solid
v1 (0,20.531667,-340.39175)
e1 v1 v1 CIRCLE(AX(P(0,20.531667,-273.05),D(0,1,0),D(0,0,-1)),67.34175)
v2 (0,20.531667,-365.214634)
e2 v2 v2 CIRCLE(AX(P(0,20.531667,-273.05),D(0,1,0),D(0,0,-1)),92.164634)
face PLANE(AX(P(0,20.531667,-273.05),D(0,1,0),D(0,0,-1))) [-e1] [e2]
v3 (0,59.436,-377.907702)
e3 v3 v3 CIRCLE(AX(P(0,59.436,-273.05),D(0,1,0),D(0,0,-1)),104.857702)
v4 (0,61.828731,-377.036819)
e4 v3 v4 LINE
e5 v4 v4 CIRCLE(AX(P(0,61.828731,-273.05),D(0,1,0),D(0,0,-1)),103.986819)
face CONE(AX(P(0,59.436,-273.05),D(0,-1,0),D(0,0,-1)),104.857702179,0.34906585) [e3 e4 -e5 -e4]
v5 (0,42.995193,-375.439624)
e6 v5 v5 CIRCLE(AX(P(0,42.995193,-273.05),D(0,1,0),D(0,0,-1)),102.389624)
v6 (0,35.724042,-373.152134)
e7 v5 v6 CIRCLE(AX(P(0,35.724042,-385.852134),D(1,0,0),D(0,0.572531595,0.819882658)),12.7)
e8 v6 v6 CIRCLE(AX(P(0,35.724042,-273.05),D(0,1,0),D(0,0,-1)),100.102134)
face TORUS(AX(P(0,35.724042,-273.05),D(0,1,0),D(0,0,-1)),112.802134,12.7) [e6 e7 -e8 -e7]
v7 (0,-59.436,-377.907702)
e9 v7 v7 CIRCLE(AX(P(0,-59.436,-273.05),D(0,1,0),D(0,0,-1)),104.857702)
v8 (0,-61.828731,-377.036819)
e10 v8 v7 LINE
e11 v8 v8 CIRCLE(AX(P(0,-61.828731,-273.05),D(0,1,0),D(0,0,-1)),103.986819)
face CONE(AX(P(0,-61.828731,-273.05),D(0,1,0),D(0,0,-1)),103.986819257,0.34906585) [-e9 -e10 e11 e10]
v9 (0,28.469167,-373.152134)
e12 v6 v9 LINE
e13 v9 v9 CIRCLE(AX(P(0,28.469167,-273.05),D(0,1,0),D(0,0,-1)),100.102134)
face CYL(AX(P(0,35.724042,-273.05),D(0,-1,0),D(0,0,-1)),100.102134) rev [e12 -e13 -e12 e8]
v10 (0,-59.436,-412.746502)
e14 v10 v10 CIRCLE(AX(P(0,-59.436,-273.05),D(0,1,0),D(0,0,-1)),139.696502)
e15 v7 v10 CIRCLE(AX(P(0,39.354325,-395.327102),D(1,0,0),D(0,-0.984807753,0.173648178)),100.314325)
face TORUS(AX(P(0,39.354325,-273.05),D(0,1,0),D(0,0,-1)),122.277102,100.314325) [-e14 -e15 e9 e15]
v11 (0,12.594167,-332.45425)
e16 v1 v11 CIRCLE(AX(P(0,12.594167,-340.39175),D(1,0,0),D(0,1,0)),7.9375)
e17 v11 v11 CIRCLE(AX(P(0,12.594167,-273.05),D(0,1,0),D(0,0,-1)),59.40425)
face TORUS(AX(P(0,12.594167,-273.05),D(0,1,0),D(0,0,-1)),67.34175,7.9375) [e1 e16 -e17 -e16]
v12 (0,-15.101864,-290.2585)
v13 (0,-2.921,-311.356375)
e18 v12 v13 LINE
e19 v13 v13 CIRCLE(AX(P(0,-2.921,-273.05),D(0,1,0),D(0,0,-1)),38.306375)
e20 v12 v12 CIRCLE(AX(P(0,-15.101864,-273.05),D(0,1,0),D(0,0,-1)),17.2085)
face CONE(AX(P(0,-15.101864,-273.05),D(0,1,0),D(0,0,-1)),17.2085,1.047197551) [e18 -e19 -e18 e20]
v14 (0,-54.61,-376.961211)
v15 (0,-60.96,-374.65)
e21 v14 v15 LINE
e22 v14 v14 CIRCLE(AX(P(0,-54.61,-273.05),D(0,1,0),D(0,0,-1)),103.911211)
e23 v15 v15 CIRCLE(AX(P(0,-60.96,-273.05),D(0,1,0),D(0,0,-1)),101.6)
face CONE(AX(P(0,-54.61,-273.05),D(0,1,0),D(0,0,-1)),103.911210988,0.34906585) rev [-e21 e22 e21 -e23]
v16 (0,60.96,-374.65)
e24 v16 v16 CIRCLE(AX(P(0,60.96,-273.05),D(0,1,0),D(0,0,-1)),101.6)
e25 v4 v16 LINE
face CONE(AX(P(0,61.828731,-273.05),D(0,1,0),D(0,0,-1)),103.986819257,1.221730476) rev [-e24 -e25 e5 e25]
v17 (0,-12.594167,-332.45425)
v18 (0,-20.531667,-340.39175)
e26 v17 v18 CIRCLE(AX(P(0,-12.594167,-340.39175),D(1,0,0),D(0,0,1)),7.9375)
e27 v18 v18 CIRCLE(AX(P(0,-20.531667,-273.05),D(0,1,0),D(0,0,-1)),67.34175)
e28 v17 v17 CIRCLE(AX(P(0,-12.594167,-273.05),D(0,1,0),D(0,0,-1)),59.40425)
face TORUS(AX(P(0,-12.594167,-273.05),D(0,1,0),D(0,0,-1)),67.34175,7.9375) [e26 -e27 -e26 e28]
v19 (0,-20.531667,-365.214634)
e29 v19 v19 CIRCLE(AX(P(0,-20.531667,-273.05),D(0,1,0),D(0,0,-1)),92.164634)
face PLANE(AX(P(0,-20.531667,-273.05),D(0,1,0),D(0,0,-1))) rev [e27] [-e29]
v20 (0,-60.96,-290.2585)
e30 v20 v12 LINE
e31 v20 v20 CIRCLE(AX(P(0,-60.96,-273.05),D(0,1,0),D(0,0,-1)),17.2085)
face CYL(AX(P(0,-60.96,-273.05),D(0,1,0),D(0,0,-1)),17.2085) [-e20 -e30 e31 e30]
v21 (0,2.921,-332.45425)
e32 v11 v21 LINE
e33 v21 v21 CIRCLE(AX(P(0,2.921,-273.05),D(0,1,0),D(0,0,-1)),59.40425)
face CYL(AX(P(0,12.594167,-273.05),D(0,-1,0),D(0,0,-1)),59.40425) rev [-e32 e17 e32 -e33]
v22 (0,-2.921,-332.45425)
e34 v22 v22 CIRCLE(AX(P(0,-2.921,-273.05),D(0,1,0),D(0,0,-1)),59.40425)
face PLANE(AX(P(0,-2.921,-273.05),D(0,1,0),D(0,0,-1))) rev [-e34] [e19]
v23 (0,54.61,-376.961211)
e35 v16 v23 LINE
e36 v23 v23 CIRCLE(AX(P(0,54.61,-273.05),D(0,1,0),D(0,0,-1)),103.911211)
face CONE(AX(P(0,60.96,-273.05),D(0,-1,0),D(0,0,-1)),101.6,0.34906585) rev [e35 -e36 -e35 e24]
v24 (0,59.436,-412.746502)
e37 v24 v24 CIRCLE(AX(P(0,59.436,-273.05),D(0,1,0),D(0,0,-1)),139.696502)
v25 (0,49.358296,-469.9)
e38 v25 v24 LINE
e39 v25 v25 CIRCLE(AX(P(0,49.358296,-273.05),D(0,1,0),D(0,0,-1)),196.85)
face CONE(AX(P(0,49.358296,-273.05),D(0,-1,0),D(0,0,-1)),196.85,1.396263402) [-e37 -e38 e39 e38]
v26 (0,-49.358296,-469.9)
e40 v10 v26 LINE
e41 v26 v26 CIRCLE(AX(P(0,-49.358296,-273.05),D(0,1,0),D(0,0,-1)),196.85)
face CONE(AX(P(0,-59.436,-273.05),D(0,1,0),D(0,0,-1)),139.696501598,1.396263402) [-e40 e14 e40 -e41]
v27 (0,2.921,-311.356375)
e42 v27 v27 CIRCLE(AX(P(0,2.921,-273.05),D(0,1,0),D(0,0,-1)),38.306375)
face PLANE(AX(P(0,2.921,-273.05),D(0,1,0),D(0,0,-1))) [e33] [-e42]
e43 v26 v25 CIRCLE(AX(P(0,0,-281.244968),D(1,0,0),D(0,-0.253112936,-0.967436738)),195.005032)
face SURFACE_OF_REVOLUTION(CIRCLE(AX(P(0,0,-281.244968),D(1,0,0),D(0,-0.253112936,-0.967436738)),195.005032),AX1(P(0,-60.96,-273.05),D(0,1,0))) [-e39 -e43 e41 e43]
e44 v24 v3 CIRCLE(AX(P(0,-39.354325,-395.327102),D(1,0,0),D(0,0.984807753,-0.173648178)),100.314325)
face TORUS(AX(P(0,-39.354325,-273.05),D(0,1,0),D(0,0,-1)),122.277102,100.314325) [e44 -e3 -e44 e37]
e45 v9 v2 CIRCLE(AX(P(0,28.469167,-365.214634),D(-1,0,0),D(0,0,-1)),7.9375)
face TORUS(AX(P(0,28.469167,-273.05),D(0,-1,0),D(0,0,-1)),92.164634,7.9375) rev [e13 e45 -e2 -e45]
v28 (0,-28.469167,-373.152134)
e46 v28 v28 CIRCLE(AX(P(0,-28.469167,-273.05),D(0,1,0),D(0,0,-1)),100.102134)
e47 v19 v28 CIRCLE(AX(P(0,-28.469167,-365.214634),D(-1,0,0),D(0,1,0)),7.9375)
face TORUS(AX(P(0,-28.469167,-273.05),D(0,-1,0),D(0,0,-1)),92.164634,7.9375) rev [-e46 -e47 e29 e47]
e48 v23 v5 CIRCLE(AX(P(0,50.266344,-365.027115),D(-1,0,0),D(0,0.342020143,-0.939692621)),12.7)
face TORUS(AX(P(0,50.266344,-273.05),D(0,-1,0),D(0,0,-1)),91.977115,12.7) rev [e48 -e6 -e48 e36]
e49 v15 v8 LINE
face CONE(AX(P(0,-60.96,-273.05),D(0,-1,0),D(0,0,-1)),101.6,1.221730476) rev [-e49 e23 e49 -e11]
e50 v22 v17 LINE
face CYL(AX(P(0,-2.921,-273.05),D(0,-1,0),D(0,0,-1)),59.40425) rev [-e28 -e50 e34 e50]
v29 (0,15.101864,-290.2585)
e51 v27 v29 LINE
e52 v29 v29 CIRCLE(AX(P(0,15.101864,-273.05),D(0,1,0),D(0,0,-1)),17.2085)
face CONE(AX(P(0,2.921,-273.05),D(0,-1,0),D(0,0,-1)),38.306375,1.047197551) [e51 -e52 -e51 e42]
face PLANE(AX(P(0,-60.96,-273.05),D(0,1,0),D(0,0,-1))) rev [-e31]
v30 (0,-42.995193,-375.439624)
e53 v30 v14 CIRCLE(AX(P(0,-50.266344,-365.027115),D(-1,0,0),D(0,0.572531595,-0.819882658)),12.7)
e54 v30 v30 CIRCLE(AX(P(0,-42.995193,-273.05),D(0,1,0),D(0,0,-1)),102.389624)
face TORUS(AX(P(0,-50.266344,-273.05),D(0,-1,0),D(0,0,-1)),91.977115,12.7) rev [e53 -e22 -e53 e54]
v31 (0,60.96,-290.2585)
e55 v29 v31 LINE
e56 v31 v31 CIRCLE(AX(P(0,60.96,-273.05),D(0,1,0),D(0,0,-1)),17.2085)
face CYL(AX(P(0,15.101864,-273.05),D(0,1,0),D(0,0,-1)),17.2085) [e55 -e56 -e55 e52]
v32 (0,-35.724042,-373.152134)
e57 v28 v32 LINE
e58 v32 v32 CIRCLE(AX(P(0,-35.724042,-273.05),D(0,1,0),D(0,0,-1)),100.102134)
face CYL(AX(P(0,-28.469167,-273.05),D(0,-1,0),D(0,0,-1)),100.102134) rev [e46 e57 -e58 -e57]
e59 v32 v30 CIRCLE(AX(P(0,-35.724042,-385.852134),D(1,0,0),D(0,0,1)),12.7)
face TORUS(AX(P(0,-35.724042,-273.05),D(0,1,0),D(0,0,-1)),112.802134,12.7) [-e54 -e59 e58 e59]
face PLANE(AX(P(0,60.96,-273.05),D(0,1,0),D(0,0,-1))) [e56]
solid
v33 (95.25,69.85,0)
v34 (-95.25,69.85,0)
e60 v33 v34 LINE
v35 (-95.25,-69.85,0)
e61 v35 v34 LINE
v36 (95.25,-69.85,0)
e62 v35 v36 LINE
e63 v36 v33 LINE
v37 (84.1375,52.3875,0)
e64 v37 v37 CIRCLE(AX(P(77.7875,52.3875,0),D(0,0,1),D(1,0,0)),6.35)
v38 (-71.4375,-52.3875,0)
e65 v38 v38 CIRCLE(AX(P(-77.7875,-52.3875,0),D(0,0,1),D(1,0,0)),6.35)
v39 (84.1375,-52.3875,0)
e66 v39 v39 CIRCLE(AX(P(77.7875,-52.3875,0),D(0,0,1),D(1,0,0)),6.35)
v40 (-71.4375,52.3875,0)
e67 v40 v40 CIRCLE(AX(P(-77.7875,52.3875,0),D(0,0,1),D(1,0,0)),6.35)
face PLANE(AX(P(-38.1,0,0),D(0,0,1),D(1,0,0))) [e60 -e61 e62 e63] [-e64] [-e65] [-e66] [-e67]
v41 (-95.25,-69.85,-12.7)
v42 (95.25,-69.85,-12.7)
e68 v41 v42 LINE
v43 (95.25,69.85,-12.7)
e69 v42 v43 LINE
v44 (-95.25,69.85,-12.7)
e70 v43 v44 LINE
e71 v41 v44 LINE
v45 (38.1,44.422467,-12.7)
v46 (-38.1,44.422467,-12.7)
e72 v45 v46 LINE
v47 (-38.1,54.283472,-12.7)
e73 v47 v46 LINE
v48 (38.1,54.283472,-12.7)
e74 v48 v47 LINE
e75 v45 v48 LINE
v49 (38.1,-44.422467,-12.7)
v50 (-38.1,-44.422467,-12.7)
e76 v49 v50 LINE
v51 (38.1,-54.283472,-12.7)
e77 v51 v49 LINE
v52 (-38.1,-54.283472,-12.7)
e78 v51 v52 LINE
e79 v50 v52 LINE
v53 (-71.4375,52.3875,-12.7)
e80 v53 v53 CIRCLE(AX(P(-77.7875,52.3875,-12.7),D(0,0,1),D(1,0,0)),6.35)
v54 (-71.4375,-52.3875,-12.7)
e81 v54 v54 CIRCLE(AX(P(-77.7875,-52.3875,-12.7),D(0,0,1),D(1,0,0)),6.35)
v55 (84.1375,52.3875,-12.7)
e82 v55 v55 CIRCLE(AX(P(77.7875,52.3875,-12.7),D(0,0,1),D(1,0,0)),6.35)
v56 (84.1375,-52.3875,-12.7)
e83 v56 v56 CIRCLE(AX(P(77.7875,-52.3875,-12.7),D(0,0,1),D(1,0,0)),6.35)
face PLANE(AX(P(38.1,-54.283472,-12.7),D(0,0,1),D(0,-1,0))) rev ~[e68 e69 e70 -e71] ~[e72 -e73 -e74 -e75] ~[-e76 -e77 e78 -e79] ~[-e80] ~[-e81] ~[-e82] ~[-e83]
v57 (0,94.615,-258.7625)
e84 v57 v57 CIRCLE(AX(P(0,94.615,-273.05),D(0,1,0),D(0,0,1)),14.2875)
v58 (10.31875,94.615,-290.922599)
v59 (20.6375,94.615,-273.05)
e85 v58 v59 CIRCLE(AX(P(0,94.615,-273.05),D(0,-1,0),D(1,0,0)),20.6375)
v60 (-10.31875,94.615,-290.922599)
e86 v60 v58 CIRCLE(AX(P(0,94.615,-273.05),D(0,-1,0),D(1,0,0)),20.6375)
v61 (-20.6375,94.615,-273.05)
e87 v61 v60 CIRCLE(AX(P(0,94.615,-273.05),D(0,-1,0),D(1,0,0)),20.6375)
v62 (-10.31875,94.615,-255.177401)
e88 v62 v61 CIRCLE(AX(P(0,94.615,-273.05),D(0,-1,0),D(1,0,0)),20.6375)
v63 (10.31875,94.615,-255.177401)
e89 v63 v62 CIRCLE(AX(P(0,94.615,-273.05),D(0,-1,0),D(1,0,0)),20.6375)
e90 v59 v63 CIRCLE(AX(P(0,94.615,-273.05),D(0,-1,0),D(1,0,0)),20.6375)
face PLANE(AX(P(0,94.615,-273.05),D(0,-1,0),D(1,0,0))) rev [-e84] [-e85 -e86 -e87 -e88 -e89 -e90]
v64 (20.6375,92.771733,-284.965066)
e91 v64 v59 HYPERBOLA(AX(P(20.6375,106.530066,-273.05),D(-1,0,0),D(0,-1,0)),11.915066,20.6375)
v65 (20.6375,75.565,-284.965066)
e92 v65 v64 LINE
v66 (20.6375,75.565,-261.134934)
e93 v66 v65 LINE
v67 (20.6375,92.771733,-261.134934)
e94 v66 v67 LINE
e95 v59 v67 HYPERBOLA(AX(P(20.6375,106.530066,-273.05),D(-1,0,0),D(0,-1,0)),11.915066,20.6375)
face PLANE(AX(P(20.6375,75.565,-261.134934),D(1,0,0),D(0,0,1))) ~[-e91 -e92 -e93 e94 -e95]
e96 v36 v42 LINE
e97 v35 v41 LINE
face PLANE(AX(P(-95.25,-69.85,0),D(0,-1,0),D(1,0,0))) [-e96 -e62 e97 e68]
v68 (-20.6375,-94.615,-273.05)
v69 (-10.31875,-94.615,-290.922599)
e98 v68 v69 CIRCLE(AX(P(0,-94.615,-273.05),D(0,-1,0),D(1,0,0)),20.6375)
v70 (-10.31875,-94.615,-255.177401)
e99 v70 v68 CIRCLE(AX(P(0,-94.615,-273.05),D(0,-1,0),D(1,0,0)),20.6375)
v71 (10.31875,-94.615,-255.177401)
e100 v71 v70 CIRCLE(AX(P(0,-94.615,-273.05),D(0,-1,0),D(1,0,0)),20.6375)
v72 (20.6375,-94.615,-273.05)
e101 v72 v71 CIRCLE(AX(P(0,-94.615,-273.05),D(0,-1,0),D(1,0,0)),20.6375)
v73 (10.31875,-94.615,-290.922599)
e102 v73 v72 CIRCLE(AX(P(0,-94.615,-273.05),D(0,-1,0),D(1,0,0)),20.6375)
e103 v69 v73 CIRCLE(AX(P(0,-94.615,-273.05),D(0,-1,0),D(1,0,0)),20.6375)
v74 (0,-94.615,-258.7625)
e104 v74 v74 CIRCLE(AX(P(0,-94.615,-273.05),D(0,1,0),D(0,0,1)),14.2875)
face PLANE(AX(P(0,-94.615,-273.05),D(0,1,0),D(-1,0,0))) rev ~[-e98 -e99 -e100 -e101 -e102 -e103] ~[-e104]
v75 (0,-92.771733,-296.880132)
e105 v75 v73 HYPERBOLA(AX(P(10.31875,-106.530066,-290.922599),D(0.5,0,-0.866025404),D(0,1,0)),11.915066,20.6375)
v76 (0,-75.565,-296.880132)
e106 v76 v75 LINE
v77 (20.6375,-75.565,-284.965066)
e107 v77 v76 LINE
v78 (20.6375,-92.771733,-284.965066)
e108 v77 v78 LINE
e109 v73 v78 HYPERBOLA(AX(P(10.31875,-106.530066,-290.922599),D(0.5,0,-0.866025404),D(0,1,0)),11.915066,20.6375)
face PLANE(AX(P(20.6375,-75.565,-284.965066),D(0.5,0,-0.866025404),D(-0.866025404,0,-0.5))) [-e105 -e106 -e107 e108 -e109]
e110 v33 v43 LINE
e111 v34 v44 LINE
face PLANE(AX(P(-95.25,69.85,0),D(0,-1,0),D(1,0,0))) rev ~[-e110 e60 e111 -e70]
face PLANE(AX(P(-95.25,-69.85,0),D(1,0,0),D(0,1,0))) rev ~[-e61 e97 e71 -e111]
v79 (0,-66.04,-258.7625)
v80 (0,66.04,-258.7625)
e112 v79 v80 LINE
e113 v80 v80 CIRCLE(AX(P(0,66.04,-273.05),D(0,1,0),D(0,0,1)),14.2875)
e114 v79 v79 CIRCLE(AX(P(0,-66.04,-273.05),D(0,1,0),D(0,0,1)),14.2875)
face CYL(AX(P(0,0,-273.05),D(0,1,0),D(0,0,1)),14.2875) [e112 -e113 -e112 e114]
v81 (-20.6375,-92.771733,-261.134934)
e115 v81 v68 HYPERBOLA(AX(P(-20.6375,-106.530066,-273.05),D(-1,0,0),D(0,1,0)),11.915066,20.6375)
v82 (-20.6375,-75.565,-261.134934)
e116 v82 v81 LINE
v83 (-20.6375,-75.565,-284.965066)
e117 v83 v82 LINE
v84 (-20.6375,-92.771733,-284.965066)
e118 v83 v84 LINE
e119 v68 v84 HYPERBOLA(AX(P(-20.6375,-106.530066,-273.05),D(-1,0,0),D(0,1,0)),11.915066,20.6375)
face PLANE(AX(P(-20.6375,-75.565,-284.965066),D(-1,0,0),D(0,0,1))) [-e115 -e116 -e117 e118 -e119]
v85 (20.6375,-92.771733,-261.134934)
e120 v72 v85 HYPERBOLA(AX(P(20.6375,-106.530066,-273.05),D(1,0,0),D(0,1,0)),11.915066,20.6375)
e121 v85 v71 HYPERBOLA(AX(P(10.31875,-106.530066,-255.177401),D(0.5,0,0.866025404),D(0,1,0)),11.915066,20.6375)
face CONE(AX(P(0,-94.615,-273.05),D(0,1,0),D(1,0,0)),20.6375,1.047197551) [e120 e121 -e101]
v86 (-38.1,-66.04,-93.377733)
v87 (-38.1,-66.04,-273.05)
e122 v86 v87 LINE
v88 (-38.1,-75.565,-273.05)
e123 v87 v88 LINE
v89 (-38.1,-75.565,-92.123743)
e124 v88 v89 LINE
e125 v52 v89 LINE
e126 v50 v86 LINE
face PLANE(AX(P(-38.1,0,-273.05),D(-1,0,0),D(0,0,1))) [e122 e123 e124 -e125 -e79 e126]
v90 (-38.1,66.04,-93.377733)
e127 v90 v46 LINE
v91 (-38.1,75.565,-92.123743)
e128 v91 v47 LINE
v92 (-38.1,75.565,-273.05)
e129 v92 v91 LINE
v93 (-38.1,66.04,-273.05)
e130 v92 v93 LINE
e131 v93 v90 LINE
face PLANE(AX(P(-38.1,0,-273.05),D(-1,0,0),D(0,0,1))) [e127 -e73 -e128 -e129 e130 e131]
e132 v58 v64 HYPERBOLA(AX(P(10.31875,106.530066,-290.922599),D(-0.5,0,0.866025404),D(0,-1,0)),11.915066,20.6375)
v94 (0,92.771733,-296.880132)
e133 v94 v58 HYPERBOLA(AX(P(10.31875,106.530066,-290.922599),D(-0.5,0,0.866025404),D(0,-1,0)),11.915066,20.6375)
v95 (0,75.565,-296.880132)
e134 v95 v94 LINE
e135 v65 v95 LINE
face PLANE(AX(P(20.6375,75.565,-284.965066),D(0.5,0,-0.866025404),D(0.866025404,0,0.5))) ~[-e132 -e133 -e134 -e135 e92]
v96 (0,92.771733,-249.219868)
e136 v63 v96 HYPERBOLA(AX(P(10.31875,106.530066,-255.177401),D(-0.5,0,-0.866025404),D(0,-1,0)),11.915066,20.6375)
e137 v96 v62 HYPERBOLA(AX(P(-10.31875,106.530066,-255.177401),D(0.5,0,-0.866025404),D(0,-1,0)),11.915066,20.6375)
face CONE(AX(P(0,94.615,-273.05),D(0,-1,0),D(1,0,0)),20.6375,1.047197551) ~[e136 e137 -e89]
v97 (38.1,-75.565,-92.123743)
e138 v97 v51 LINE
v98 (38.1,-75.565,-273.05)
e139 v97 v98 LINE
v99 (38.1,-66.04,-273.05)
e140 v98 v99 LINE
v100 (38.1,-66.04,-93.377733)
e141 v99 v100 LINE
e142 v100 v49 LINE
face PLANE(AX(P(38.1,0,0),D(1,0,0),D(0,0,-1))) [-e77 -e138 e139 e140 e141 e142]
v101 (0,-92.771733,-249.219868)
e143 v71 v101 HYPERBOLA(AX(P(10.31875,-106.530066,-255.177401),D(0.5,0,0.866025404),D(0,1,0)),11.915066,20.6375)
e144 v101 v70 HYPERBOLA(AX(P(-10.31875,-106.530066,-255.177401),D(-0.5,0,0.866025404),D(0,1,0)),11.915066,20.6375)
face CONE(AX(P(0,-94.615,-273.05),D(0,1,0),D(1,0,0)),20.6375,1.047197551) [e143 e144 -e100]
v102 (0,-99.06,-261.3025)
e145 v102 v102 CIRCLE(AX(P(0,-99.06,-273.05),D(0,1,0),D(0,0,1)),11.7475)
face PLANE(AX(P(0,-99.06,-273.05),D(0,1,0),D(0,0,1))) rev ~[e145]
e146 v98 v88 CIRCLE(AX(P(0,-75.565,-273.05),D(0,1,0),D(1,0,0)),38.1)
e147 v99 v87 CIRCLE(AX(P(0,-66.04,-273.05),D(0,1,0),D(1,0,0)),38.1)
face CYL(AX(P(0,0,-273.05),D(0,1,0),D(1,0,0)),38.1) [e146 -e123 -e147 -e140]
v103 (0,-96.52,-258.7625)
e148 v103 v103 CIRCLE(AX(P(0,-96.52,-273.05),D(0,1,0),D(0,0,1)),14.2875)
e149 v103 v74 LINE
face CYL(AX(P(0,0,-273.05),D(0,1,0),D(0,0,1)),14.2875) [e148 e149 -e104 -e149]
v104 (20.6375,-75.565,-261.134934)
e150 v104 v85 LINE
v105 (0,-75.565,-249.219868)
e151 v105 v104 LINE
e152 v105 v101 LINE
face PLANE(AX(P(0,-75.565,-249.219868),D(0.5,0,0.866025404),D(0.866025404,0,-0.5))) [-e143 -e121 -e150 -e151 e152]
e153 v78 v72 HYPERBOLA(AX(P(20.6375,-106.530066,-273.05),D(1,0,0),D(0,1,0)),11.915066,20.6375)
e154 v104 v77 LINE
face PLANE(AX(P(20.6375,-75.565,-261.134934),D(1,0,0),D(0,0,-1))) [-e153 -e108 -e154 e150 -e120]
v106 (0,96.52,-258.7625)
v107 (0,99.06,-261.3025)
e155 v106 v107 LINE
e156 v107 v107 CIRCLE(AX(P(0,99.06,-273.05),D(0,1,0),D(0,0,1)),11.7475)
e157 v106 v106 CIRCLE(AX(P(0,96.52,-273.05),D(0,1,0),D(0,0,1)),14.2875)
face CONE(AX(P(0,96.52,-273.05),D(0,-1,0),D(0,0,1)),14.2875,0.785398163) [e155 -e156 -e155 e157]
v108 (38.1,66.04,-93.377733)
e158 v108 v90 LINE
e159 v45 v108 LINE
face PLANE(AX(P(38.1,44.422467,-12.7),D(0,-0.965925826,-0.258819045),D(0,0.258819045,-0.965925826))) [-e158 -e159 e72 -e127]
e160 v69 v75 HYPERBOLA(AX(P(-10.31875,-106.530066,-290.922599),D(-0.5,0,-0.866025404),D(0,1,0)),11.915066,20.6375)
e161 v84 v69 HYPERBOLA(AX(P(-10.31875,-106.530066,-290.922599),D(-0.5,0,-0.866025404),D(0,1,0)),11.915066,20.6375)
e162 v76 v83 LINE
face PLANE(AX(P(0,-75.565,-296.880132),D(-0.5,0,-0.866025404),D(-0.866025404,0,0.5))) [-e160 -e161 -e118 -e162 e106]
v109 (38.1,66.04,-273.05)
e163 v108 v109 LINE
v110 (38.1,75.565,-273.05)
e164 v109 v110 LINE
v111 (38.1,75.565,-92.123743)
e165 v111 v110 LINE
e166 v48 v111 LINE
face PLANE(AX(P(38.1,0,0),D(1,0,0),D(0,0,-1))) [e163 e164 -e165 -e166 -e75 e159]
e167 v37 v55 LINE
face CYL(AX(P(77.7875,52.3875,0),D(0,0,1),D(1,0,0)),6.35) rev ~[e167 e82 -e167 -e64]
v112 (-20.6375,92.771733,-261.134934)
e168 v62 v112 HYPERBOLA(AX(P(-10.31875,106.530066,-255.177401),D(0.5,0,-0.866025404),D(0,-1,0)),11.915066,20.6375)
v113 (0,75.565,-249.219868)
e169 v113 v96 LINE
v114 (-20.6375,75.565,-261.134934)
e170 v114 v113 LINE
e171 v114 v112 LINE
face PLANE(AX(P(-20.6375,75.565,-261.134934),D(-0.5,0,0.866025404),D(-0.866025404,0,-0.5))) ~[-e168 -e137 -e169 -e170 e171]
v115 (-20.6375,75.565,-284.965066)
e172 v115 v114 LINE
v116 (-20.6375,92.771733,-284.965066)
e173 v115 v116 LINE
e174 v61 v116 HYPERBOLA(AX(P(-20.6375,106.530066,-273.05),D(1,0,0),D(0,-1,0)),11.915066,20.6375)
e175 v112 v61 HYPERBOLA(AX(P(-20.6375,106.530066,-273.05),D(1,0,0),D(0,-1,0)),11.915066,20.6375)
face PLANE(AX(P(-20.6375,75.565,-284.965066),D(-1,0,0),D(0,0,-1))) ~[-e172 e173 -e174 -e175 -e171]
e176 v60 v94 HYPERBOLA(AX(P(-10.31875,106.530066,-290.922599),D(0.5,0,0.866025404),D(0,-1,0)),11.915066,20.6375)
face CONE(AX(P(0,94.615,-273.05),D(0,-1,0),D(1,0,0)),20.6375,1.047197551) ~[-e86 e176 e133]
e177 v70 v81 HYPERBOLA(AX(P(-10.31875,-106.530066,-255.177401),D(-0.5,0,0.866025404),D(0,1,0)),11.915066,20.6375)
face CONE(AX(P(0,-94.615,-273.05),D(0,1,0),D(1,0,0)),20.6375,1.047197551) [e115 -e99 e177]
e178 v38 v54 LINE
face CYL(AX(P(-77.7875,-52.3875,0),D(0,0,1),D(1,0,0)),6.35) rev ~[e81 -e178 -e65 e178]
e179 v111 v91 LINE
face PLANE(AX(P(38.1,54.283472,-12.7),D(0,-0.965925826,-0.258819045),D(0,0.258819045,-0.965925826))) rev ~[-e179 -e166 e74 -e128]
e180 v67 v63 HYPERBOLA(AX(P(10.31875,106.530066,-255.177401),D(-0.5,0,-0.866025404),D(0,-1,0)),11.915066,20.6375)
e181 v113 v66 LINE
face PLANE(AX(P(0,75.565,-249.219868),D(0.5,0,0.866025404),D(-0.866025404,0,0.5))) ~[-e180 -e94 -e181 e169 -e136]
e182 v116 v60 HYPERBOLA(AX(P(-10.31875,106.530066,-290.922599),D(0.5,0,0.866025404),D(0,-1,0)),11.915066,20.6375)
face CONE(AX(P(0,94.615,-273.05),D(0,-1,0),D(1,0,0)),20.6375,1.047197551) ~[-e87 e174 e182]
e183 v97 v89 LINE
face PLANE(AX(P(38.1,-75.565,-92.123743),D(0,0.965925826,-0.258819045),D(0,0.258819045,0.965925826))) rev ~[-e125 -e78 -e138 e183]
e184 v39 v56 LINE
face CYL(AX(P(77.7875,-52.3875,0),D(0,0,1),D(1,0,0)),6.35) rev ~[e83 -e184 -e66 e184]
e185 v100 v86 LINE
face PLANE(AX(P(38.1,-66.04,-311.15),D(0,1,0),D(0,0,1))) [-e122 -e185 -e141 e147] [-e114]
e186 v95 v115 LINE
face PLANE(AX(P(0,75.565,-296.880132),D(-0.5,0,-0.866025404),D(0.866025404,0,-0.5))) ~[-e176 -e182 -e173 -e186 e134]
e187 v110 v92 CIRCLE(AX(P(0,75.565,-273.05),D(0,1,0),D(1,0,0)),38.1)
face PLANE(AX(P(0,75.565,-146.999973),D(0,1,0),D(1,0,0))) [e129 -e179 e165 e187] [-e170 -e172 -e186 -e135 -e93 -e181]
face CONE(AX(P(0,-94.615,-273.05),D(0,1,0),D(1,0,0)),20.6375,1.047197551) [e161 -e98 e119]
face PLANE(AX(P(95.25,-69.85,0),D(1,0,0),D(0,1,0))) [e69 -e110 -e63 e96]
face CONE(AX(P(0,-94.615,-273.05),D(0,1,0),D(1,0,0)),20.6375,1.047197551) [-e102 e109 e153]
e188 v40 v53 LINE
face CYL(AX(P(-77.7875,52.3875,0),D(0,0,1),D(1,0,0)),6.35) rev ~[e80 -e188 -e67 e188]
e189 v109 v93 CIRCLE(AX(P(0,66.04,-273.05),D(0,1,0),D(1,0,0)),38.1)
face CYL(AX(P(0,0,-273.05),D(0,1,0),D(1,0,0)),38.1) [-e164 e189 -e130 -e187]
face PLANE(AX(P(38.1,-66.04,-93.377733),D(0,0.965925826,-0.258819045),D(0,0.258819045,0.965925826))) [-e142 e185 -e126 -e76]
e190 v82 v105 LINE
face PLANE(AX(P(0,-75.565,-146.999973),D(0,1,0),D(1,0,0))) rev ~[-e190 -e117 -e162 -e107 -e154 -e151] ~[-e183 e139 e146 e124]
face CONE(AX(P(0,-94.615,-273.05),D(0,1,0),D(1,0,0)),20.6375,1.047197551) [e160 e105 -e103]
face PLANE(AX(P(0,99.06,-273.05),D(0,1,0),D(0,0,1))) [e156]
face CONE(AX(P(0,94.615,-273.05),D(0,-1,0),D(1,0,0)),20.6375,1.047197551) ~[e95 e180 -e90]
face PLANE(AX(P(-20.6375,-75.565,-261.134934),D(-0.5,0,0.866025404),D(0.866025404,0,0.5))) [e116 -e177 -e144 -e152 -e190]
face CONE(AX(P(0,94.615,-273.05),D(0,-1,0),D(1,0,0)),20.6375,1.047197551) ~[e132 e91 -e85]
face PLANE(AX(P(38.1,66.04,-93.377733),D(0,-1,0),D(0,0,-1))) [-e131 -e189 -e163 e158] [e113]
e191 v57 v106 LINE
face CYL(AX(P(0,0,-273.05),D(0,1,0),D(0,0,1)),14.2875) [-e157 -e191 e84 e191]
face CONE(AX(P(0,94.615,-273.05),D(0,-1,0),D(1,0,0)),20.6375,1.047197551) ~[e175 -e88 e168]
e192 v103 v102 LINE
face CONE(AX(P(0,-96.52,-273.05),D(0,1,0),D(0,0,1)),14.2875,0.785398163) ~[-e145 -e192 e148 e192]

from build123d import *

# Parameters (mm, degrees)
SKETCH2_W           = 190.5
SKETCH2_H           = 139.7
SKETCH2_R           = 6.35
PLATE_2_DEPTH       = 12.7
BOSS_EXTRUDE3_DEPTH = 75.565
CUT_EXTRUDE1_DEPTH  = 107.95
SKETCH12_W          = 190.5
SKETCH12_H          = 12.7
CUT_EXTRUDE4_DEPTH  = 357.416059157
SKETCH13_W          = 190.5
SKETCH13_H          = 12.7
CUT_EXTRUDE5_DEPTH  = 357.416059157
SKETCH6_R           = 14.2875
BOSS_EXTRUDE5_DEPTH = 99.06
CHAMFER2_SIZE       = 2.54
BOSS_EXTRUDE7_DEPTH = 19.05
SKETCH11_OUTSIDE_W  = 1590.774
SKETCH11_OUTSIDE_H  = 1711.424
SKETCH11_OUTSIDE_R  = 20.6375
CUT_EXTRUDE3_DEPTH  = 379.67781903
CUT_EXTRUDE3_DRAFT  = -60


with BuildPart() as part:
    # Sketch2 → Plate 2 (new body)
    with BuildSketch(Plane.XY):
        Rectangle(SKETCH2_W, SKETCH2_H)
        with Locations((-77.7875, 52.3875)):
            Circle(SKETCH2_R, mode=Mode.SUBTRACT)
        with Locations((-77.7875, -52.3875)):
            Circle(SKETCH2_R, mode=Mode.SUBTRACT)
        with Locations((77.7875, -52.3875)):
            Circle(SKETCH2_R, mode=Mode.SUBTRACT)
        with Locations((77.7875, 52.3875)):
            Circle(SKETCH2_R, mode=Mode.SUBTRACT)
    extrude(amount=-PLATE_2_DEPTH)

    # Sketch3 → Boss-Extrude3 (add, symmetric)
    with BuildSketch(Plane(origin=(0, 0, 0), x_dir=(1, 0, 0), z_dir=(0, 1, 0))):
        with BuildLine():
            Line((-38.1, 0), (38.1, 0))
            Line((38.1, 0), (38.1, 273.05))
            ThreePointArc((38.1, 273.05), (0, 311.15), (-38.1, 273.05))
            Line((-38.1, 273.05), (-38.1, 0))
        make_face()
    extrude(amount=BOSS_EXTRUDE3_DEPTH, both=True)

    # Sketch4 → Cut-Extrude1 (cut)
    with BuildSketch(Plane(origin=(38.1, 0, 0), x_dir=(0, 0, -1), z_dir=(1, 0, 0))):
        Polygon((93.377733092, 66.04), (311.15, 66.04), (311.15, -66.04), (93.377733092, -66.04), (12.7, -44.422466571), (12.7, 44.422466571), align=None)
        Polygon((12.7, 54.283472189), (92.123743052, 75.565), (12.7, 75.565), align=None)
        Polygon((12.7, -75.565), (92.123743052, -75.565), (12.7, -54.283472189), align=None)
    extrude(amount=-CUT_EXTRUDE1_DEPTH, mode=Mode.SUBTRACT)

    # Sketch12 → Cut-Extrude4 (cut, through all)
    with BuildSketch(Plane(origin=(0, 69.85, 0), x_dir=(1, 0, 0), z_dir=(0, 1, 0))):
        with Locations((0, 6.35)):
            Rectangle(SKETCH12_W, SKETCH12_H)
    extrude(amount=CUT_EXTRUDE4_DEPTH, mode=Mode.SUBTRACT)

    # Sketch13 → Cut-Extrude5 (cut, through all)
    with BuildSketch(Plane.XZ.offset(69.85)):
        with Locations((0, -6.35)):
            Rectangle(SKETCH13_W, SKETCH13_H)
    extrude(amount=CUT_EXTRUDE5_DEPTH, mode=Mode.SUBTRACT)

    # Sketch6 → Boss-Extrude5 (add, symmetric)
    with BuildSketch(Plane(origin=(0, 0, 0), x_dir=(1, 0, 0), z_dir=(0, 1, 0))):
        with Locations(Location((0, 273.05, 0), (0, 0, 270))):
            Circle(SKETCH6_R)
    extrude(amount=BOSS_EXTRUDE5_DEPTH, both=True)

    # Chamfer2
    chamfer2_edges = [part.edges().sort_by_distance(p)[0] for p in [
        (0, -99.06, -287.3375),
        (0, 99.06, -287.3375),
    ]]
    chamfer(chamfer2_edges, length=CHAMFER2_SIZE)


with BuildPart() as body_2:
    # Sketch9 → Boss-Extrude7 (new body)
    with BuildSketch(Plane(origin=(0, -75.565, 0), x_dir=(-1, 0, 0), z_dir=(0, 1, 0))):
        Polygon((0, -249.219867639), (-20.6375, -261.13493382), (-20.6375, -284.96506618), (0, -296.880132361), (20.6375, -284.96506618), (20.6375, -261.13493382), align=None)
    extrude(amount=-BOSS_EXTRUDE7_DEPTH)


with BuildPart() as cut_extrude3_tool:
    # Sketch11 outside → Cut-Extrude3 (with draft: the straight prism first)
    with BuildSketch(Plane.XZ.offset(94.615)):
        with Locations((0, -155.575)):
            Rectangle(SKETCH11_OUTSIDE_W, SKETCH11_OUTSIDE_H)
        with Locations((0, -273.05)):
            Circle(SKETCH11_OUTSIDE_R, mode=Mode.SUBTRACT)
    extrude(amount=-CUT_EXTRUDE3_DEPTH)
    # Cut-Extrude3: the draft: its side faces are tilted about the plane it starts from
    cut_extrude3_sides = [cut_extrude3_tool.faces().sort_by_distance(p)[0] for p in [
        (0, 95.223909515, -1011.287),
        (795.387, 95.223909515, -155.575),
        (0, 95.223909515, 700.137),
        (-795.387, 95.223909515, -155.575),
        (-20.6375, 95.223909515, -273.05),
    ]]
    draft(cut_extrude3_sides, Plane.XZ.offset(94.615), CUT_EXTRUDE3_DRAFT)


with BuildPart() as body_2_1:
    add(body_2.part)

    # Cut-Extrude3: cut by cut_extrude3_tool
    add(cut_extrude3_tool.part, mode=Mode.SUBTRACT)


with BuildPart() as body_3:
    # Mirror5: mirrored copy
    add(body_2_1.part.mirror(Plane.ZX))


with BuildPart() as body_2_2:
    add(body_2_1.part)

    # Combine1: union body 3, part
    add(body_3.part)
    add(part.part)


with BuildPart() as body_2_2_1:
    # Sketch8 → Revolve1 (revolve)
    with BuildSketch(Plane(origin=(0, 0, 0), x_dir=(0, 0, -1), z_dir=(1, 0, 0)), mode=Mode.PRIVATE) as revolve1_sk:
        with BuildLine():
            Line((273.05, -60.96), (255.8415, -60.96))
            Line((255.8415, -60.96), (255.8415, -15.101863811))
            Line((255.8415, -15.101863811), (234.743625, -2.921))
            Line((234.743625, -2.921), (213.64575, -2.921))
            Line((213.64575, -2.921), (213.64575, -12.594166667))
            ThreePointArc((213.64575, -12.594166667), (211.320910076, -18.206826742), (205.70825, -20.531666667))
            Line((205.70825, -20.531666667), (180.885365786, -20.531666667))
            ThreePointArc((180.885365786, -20.531666667), (175.27270571, -22.856506591), (172.947865786, -28.469166667))
            Line((172.947865786, -28.469166667), (172.947865786, -35.724041667))
            ThreePointArc((172.947865786, -35.724041667), (172.362503087, -39.535283335), (170.660375541, -42.995192923))
            ThreePointArc((170.660375541, -42.995192923), (168.480481387, -48.616688527), (169.138789012, -54.61))
            Line((169.138789012, -54.61), (171.45, -60.96))
            Line((171.45, -60.96), (169.063180743, -61.828731164))
            Line((169.063180743, -61.828731164), (168.192297821, -59.436))
            ThreePointArc((168.192297821, -59.436), (150.772898111, -60.96), (133.353498402, -59.436))
            Line((133.353498402, -59.436), (76.2, -49.35829619))
            ThreePointArc((76.2, -49.35829619), (69.85, 0), (76.2, 49.35829619))
            Line((76.2, 49.35829619), (133.353498402, 59.436))
            ThreePointArc((133.353498402, 59.436), (150.772898111, 60.96), (168.192297821, 59.436))
            Line((168.192297821, 59.436), (169.063180743, 61.828731164))
            Line((169.063180743, 61.828731164), (171.45, 60.96))
            Line((171.45, 60.96), (169.138789012, 54.61))
            ThreePointArc((169.138789012, 54.61), (168.480481387, 48.616688527), (170.660375541, 42.995192923))
            ThreePointArc((170.660375541, 42.995192923), (172.362503087, 39.535283335), (172.947865786, 35.724041667))
            Line((172.947865786, 35.724041667), (172.947865786, 28.469166667))
            ThreePointArc((172.947865786, 28.469166667), (175.27270571, 22.856506591), (180.885365786, 20.531666667))
            Line((180.885365786, 20.531666667), (205.70825, 20.531666667))
            ThreePointArc((205.70825, 20.531666667), (211.320910076, 18.206826742), (213.64575, 12.594166667))
            Line((213.64575, 12.594166667), (213.64575, 2.921))
            Line((213.64575, 2.921), (234.743625, 2.921))
            Line((234.743625, 2.921), (255.8415, 15.101863811))
            Line((255.8415, 15.101863811), (255.8415, 60.96))
            Line((255.8415, 60.96), (273.05, 60.96))
            Line((273.05, 60.96), (273.05, -60.96))
        make_face()
    revolve(revolve1_sk.sketch.rotate(Axis((0, -60.96, -273.05), (0, 1, 0)), 180), axis=Axis((0, -60.96, -273.05), (0, 1, 0)))


solid = Compound([body_2_2.part, body_2_2_1.part])
